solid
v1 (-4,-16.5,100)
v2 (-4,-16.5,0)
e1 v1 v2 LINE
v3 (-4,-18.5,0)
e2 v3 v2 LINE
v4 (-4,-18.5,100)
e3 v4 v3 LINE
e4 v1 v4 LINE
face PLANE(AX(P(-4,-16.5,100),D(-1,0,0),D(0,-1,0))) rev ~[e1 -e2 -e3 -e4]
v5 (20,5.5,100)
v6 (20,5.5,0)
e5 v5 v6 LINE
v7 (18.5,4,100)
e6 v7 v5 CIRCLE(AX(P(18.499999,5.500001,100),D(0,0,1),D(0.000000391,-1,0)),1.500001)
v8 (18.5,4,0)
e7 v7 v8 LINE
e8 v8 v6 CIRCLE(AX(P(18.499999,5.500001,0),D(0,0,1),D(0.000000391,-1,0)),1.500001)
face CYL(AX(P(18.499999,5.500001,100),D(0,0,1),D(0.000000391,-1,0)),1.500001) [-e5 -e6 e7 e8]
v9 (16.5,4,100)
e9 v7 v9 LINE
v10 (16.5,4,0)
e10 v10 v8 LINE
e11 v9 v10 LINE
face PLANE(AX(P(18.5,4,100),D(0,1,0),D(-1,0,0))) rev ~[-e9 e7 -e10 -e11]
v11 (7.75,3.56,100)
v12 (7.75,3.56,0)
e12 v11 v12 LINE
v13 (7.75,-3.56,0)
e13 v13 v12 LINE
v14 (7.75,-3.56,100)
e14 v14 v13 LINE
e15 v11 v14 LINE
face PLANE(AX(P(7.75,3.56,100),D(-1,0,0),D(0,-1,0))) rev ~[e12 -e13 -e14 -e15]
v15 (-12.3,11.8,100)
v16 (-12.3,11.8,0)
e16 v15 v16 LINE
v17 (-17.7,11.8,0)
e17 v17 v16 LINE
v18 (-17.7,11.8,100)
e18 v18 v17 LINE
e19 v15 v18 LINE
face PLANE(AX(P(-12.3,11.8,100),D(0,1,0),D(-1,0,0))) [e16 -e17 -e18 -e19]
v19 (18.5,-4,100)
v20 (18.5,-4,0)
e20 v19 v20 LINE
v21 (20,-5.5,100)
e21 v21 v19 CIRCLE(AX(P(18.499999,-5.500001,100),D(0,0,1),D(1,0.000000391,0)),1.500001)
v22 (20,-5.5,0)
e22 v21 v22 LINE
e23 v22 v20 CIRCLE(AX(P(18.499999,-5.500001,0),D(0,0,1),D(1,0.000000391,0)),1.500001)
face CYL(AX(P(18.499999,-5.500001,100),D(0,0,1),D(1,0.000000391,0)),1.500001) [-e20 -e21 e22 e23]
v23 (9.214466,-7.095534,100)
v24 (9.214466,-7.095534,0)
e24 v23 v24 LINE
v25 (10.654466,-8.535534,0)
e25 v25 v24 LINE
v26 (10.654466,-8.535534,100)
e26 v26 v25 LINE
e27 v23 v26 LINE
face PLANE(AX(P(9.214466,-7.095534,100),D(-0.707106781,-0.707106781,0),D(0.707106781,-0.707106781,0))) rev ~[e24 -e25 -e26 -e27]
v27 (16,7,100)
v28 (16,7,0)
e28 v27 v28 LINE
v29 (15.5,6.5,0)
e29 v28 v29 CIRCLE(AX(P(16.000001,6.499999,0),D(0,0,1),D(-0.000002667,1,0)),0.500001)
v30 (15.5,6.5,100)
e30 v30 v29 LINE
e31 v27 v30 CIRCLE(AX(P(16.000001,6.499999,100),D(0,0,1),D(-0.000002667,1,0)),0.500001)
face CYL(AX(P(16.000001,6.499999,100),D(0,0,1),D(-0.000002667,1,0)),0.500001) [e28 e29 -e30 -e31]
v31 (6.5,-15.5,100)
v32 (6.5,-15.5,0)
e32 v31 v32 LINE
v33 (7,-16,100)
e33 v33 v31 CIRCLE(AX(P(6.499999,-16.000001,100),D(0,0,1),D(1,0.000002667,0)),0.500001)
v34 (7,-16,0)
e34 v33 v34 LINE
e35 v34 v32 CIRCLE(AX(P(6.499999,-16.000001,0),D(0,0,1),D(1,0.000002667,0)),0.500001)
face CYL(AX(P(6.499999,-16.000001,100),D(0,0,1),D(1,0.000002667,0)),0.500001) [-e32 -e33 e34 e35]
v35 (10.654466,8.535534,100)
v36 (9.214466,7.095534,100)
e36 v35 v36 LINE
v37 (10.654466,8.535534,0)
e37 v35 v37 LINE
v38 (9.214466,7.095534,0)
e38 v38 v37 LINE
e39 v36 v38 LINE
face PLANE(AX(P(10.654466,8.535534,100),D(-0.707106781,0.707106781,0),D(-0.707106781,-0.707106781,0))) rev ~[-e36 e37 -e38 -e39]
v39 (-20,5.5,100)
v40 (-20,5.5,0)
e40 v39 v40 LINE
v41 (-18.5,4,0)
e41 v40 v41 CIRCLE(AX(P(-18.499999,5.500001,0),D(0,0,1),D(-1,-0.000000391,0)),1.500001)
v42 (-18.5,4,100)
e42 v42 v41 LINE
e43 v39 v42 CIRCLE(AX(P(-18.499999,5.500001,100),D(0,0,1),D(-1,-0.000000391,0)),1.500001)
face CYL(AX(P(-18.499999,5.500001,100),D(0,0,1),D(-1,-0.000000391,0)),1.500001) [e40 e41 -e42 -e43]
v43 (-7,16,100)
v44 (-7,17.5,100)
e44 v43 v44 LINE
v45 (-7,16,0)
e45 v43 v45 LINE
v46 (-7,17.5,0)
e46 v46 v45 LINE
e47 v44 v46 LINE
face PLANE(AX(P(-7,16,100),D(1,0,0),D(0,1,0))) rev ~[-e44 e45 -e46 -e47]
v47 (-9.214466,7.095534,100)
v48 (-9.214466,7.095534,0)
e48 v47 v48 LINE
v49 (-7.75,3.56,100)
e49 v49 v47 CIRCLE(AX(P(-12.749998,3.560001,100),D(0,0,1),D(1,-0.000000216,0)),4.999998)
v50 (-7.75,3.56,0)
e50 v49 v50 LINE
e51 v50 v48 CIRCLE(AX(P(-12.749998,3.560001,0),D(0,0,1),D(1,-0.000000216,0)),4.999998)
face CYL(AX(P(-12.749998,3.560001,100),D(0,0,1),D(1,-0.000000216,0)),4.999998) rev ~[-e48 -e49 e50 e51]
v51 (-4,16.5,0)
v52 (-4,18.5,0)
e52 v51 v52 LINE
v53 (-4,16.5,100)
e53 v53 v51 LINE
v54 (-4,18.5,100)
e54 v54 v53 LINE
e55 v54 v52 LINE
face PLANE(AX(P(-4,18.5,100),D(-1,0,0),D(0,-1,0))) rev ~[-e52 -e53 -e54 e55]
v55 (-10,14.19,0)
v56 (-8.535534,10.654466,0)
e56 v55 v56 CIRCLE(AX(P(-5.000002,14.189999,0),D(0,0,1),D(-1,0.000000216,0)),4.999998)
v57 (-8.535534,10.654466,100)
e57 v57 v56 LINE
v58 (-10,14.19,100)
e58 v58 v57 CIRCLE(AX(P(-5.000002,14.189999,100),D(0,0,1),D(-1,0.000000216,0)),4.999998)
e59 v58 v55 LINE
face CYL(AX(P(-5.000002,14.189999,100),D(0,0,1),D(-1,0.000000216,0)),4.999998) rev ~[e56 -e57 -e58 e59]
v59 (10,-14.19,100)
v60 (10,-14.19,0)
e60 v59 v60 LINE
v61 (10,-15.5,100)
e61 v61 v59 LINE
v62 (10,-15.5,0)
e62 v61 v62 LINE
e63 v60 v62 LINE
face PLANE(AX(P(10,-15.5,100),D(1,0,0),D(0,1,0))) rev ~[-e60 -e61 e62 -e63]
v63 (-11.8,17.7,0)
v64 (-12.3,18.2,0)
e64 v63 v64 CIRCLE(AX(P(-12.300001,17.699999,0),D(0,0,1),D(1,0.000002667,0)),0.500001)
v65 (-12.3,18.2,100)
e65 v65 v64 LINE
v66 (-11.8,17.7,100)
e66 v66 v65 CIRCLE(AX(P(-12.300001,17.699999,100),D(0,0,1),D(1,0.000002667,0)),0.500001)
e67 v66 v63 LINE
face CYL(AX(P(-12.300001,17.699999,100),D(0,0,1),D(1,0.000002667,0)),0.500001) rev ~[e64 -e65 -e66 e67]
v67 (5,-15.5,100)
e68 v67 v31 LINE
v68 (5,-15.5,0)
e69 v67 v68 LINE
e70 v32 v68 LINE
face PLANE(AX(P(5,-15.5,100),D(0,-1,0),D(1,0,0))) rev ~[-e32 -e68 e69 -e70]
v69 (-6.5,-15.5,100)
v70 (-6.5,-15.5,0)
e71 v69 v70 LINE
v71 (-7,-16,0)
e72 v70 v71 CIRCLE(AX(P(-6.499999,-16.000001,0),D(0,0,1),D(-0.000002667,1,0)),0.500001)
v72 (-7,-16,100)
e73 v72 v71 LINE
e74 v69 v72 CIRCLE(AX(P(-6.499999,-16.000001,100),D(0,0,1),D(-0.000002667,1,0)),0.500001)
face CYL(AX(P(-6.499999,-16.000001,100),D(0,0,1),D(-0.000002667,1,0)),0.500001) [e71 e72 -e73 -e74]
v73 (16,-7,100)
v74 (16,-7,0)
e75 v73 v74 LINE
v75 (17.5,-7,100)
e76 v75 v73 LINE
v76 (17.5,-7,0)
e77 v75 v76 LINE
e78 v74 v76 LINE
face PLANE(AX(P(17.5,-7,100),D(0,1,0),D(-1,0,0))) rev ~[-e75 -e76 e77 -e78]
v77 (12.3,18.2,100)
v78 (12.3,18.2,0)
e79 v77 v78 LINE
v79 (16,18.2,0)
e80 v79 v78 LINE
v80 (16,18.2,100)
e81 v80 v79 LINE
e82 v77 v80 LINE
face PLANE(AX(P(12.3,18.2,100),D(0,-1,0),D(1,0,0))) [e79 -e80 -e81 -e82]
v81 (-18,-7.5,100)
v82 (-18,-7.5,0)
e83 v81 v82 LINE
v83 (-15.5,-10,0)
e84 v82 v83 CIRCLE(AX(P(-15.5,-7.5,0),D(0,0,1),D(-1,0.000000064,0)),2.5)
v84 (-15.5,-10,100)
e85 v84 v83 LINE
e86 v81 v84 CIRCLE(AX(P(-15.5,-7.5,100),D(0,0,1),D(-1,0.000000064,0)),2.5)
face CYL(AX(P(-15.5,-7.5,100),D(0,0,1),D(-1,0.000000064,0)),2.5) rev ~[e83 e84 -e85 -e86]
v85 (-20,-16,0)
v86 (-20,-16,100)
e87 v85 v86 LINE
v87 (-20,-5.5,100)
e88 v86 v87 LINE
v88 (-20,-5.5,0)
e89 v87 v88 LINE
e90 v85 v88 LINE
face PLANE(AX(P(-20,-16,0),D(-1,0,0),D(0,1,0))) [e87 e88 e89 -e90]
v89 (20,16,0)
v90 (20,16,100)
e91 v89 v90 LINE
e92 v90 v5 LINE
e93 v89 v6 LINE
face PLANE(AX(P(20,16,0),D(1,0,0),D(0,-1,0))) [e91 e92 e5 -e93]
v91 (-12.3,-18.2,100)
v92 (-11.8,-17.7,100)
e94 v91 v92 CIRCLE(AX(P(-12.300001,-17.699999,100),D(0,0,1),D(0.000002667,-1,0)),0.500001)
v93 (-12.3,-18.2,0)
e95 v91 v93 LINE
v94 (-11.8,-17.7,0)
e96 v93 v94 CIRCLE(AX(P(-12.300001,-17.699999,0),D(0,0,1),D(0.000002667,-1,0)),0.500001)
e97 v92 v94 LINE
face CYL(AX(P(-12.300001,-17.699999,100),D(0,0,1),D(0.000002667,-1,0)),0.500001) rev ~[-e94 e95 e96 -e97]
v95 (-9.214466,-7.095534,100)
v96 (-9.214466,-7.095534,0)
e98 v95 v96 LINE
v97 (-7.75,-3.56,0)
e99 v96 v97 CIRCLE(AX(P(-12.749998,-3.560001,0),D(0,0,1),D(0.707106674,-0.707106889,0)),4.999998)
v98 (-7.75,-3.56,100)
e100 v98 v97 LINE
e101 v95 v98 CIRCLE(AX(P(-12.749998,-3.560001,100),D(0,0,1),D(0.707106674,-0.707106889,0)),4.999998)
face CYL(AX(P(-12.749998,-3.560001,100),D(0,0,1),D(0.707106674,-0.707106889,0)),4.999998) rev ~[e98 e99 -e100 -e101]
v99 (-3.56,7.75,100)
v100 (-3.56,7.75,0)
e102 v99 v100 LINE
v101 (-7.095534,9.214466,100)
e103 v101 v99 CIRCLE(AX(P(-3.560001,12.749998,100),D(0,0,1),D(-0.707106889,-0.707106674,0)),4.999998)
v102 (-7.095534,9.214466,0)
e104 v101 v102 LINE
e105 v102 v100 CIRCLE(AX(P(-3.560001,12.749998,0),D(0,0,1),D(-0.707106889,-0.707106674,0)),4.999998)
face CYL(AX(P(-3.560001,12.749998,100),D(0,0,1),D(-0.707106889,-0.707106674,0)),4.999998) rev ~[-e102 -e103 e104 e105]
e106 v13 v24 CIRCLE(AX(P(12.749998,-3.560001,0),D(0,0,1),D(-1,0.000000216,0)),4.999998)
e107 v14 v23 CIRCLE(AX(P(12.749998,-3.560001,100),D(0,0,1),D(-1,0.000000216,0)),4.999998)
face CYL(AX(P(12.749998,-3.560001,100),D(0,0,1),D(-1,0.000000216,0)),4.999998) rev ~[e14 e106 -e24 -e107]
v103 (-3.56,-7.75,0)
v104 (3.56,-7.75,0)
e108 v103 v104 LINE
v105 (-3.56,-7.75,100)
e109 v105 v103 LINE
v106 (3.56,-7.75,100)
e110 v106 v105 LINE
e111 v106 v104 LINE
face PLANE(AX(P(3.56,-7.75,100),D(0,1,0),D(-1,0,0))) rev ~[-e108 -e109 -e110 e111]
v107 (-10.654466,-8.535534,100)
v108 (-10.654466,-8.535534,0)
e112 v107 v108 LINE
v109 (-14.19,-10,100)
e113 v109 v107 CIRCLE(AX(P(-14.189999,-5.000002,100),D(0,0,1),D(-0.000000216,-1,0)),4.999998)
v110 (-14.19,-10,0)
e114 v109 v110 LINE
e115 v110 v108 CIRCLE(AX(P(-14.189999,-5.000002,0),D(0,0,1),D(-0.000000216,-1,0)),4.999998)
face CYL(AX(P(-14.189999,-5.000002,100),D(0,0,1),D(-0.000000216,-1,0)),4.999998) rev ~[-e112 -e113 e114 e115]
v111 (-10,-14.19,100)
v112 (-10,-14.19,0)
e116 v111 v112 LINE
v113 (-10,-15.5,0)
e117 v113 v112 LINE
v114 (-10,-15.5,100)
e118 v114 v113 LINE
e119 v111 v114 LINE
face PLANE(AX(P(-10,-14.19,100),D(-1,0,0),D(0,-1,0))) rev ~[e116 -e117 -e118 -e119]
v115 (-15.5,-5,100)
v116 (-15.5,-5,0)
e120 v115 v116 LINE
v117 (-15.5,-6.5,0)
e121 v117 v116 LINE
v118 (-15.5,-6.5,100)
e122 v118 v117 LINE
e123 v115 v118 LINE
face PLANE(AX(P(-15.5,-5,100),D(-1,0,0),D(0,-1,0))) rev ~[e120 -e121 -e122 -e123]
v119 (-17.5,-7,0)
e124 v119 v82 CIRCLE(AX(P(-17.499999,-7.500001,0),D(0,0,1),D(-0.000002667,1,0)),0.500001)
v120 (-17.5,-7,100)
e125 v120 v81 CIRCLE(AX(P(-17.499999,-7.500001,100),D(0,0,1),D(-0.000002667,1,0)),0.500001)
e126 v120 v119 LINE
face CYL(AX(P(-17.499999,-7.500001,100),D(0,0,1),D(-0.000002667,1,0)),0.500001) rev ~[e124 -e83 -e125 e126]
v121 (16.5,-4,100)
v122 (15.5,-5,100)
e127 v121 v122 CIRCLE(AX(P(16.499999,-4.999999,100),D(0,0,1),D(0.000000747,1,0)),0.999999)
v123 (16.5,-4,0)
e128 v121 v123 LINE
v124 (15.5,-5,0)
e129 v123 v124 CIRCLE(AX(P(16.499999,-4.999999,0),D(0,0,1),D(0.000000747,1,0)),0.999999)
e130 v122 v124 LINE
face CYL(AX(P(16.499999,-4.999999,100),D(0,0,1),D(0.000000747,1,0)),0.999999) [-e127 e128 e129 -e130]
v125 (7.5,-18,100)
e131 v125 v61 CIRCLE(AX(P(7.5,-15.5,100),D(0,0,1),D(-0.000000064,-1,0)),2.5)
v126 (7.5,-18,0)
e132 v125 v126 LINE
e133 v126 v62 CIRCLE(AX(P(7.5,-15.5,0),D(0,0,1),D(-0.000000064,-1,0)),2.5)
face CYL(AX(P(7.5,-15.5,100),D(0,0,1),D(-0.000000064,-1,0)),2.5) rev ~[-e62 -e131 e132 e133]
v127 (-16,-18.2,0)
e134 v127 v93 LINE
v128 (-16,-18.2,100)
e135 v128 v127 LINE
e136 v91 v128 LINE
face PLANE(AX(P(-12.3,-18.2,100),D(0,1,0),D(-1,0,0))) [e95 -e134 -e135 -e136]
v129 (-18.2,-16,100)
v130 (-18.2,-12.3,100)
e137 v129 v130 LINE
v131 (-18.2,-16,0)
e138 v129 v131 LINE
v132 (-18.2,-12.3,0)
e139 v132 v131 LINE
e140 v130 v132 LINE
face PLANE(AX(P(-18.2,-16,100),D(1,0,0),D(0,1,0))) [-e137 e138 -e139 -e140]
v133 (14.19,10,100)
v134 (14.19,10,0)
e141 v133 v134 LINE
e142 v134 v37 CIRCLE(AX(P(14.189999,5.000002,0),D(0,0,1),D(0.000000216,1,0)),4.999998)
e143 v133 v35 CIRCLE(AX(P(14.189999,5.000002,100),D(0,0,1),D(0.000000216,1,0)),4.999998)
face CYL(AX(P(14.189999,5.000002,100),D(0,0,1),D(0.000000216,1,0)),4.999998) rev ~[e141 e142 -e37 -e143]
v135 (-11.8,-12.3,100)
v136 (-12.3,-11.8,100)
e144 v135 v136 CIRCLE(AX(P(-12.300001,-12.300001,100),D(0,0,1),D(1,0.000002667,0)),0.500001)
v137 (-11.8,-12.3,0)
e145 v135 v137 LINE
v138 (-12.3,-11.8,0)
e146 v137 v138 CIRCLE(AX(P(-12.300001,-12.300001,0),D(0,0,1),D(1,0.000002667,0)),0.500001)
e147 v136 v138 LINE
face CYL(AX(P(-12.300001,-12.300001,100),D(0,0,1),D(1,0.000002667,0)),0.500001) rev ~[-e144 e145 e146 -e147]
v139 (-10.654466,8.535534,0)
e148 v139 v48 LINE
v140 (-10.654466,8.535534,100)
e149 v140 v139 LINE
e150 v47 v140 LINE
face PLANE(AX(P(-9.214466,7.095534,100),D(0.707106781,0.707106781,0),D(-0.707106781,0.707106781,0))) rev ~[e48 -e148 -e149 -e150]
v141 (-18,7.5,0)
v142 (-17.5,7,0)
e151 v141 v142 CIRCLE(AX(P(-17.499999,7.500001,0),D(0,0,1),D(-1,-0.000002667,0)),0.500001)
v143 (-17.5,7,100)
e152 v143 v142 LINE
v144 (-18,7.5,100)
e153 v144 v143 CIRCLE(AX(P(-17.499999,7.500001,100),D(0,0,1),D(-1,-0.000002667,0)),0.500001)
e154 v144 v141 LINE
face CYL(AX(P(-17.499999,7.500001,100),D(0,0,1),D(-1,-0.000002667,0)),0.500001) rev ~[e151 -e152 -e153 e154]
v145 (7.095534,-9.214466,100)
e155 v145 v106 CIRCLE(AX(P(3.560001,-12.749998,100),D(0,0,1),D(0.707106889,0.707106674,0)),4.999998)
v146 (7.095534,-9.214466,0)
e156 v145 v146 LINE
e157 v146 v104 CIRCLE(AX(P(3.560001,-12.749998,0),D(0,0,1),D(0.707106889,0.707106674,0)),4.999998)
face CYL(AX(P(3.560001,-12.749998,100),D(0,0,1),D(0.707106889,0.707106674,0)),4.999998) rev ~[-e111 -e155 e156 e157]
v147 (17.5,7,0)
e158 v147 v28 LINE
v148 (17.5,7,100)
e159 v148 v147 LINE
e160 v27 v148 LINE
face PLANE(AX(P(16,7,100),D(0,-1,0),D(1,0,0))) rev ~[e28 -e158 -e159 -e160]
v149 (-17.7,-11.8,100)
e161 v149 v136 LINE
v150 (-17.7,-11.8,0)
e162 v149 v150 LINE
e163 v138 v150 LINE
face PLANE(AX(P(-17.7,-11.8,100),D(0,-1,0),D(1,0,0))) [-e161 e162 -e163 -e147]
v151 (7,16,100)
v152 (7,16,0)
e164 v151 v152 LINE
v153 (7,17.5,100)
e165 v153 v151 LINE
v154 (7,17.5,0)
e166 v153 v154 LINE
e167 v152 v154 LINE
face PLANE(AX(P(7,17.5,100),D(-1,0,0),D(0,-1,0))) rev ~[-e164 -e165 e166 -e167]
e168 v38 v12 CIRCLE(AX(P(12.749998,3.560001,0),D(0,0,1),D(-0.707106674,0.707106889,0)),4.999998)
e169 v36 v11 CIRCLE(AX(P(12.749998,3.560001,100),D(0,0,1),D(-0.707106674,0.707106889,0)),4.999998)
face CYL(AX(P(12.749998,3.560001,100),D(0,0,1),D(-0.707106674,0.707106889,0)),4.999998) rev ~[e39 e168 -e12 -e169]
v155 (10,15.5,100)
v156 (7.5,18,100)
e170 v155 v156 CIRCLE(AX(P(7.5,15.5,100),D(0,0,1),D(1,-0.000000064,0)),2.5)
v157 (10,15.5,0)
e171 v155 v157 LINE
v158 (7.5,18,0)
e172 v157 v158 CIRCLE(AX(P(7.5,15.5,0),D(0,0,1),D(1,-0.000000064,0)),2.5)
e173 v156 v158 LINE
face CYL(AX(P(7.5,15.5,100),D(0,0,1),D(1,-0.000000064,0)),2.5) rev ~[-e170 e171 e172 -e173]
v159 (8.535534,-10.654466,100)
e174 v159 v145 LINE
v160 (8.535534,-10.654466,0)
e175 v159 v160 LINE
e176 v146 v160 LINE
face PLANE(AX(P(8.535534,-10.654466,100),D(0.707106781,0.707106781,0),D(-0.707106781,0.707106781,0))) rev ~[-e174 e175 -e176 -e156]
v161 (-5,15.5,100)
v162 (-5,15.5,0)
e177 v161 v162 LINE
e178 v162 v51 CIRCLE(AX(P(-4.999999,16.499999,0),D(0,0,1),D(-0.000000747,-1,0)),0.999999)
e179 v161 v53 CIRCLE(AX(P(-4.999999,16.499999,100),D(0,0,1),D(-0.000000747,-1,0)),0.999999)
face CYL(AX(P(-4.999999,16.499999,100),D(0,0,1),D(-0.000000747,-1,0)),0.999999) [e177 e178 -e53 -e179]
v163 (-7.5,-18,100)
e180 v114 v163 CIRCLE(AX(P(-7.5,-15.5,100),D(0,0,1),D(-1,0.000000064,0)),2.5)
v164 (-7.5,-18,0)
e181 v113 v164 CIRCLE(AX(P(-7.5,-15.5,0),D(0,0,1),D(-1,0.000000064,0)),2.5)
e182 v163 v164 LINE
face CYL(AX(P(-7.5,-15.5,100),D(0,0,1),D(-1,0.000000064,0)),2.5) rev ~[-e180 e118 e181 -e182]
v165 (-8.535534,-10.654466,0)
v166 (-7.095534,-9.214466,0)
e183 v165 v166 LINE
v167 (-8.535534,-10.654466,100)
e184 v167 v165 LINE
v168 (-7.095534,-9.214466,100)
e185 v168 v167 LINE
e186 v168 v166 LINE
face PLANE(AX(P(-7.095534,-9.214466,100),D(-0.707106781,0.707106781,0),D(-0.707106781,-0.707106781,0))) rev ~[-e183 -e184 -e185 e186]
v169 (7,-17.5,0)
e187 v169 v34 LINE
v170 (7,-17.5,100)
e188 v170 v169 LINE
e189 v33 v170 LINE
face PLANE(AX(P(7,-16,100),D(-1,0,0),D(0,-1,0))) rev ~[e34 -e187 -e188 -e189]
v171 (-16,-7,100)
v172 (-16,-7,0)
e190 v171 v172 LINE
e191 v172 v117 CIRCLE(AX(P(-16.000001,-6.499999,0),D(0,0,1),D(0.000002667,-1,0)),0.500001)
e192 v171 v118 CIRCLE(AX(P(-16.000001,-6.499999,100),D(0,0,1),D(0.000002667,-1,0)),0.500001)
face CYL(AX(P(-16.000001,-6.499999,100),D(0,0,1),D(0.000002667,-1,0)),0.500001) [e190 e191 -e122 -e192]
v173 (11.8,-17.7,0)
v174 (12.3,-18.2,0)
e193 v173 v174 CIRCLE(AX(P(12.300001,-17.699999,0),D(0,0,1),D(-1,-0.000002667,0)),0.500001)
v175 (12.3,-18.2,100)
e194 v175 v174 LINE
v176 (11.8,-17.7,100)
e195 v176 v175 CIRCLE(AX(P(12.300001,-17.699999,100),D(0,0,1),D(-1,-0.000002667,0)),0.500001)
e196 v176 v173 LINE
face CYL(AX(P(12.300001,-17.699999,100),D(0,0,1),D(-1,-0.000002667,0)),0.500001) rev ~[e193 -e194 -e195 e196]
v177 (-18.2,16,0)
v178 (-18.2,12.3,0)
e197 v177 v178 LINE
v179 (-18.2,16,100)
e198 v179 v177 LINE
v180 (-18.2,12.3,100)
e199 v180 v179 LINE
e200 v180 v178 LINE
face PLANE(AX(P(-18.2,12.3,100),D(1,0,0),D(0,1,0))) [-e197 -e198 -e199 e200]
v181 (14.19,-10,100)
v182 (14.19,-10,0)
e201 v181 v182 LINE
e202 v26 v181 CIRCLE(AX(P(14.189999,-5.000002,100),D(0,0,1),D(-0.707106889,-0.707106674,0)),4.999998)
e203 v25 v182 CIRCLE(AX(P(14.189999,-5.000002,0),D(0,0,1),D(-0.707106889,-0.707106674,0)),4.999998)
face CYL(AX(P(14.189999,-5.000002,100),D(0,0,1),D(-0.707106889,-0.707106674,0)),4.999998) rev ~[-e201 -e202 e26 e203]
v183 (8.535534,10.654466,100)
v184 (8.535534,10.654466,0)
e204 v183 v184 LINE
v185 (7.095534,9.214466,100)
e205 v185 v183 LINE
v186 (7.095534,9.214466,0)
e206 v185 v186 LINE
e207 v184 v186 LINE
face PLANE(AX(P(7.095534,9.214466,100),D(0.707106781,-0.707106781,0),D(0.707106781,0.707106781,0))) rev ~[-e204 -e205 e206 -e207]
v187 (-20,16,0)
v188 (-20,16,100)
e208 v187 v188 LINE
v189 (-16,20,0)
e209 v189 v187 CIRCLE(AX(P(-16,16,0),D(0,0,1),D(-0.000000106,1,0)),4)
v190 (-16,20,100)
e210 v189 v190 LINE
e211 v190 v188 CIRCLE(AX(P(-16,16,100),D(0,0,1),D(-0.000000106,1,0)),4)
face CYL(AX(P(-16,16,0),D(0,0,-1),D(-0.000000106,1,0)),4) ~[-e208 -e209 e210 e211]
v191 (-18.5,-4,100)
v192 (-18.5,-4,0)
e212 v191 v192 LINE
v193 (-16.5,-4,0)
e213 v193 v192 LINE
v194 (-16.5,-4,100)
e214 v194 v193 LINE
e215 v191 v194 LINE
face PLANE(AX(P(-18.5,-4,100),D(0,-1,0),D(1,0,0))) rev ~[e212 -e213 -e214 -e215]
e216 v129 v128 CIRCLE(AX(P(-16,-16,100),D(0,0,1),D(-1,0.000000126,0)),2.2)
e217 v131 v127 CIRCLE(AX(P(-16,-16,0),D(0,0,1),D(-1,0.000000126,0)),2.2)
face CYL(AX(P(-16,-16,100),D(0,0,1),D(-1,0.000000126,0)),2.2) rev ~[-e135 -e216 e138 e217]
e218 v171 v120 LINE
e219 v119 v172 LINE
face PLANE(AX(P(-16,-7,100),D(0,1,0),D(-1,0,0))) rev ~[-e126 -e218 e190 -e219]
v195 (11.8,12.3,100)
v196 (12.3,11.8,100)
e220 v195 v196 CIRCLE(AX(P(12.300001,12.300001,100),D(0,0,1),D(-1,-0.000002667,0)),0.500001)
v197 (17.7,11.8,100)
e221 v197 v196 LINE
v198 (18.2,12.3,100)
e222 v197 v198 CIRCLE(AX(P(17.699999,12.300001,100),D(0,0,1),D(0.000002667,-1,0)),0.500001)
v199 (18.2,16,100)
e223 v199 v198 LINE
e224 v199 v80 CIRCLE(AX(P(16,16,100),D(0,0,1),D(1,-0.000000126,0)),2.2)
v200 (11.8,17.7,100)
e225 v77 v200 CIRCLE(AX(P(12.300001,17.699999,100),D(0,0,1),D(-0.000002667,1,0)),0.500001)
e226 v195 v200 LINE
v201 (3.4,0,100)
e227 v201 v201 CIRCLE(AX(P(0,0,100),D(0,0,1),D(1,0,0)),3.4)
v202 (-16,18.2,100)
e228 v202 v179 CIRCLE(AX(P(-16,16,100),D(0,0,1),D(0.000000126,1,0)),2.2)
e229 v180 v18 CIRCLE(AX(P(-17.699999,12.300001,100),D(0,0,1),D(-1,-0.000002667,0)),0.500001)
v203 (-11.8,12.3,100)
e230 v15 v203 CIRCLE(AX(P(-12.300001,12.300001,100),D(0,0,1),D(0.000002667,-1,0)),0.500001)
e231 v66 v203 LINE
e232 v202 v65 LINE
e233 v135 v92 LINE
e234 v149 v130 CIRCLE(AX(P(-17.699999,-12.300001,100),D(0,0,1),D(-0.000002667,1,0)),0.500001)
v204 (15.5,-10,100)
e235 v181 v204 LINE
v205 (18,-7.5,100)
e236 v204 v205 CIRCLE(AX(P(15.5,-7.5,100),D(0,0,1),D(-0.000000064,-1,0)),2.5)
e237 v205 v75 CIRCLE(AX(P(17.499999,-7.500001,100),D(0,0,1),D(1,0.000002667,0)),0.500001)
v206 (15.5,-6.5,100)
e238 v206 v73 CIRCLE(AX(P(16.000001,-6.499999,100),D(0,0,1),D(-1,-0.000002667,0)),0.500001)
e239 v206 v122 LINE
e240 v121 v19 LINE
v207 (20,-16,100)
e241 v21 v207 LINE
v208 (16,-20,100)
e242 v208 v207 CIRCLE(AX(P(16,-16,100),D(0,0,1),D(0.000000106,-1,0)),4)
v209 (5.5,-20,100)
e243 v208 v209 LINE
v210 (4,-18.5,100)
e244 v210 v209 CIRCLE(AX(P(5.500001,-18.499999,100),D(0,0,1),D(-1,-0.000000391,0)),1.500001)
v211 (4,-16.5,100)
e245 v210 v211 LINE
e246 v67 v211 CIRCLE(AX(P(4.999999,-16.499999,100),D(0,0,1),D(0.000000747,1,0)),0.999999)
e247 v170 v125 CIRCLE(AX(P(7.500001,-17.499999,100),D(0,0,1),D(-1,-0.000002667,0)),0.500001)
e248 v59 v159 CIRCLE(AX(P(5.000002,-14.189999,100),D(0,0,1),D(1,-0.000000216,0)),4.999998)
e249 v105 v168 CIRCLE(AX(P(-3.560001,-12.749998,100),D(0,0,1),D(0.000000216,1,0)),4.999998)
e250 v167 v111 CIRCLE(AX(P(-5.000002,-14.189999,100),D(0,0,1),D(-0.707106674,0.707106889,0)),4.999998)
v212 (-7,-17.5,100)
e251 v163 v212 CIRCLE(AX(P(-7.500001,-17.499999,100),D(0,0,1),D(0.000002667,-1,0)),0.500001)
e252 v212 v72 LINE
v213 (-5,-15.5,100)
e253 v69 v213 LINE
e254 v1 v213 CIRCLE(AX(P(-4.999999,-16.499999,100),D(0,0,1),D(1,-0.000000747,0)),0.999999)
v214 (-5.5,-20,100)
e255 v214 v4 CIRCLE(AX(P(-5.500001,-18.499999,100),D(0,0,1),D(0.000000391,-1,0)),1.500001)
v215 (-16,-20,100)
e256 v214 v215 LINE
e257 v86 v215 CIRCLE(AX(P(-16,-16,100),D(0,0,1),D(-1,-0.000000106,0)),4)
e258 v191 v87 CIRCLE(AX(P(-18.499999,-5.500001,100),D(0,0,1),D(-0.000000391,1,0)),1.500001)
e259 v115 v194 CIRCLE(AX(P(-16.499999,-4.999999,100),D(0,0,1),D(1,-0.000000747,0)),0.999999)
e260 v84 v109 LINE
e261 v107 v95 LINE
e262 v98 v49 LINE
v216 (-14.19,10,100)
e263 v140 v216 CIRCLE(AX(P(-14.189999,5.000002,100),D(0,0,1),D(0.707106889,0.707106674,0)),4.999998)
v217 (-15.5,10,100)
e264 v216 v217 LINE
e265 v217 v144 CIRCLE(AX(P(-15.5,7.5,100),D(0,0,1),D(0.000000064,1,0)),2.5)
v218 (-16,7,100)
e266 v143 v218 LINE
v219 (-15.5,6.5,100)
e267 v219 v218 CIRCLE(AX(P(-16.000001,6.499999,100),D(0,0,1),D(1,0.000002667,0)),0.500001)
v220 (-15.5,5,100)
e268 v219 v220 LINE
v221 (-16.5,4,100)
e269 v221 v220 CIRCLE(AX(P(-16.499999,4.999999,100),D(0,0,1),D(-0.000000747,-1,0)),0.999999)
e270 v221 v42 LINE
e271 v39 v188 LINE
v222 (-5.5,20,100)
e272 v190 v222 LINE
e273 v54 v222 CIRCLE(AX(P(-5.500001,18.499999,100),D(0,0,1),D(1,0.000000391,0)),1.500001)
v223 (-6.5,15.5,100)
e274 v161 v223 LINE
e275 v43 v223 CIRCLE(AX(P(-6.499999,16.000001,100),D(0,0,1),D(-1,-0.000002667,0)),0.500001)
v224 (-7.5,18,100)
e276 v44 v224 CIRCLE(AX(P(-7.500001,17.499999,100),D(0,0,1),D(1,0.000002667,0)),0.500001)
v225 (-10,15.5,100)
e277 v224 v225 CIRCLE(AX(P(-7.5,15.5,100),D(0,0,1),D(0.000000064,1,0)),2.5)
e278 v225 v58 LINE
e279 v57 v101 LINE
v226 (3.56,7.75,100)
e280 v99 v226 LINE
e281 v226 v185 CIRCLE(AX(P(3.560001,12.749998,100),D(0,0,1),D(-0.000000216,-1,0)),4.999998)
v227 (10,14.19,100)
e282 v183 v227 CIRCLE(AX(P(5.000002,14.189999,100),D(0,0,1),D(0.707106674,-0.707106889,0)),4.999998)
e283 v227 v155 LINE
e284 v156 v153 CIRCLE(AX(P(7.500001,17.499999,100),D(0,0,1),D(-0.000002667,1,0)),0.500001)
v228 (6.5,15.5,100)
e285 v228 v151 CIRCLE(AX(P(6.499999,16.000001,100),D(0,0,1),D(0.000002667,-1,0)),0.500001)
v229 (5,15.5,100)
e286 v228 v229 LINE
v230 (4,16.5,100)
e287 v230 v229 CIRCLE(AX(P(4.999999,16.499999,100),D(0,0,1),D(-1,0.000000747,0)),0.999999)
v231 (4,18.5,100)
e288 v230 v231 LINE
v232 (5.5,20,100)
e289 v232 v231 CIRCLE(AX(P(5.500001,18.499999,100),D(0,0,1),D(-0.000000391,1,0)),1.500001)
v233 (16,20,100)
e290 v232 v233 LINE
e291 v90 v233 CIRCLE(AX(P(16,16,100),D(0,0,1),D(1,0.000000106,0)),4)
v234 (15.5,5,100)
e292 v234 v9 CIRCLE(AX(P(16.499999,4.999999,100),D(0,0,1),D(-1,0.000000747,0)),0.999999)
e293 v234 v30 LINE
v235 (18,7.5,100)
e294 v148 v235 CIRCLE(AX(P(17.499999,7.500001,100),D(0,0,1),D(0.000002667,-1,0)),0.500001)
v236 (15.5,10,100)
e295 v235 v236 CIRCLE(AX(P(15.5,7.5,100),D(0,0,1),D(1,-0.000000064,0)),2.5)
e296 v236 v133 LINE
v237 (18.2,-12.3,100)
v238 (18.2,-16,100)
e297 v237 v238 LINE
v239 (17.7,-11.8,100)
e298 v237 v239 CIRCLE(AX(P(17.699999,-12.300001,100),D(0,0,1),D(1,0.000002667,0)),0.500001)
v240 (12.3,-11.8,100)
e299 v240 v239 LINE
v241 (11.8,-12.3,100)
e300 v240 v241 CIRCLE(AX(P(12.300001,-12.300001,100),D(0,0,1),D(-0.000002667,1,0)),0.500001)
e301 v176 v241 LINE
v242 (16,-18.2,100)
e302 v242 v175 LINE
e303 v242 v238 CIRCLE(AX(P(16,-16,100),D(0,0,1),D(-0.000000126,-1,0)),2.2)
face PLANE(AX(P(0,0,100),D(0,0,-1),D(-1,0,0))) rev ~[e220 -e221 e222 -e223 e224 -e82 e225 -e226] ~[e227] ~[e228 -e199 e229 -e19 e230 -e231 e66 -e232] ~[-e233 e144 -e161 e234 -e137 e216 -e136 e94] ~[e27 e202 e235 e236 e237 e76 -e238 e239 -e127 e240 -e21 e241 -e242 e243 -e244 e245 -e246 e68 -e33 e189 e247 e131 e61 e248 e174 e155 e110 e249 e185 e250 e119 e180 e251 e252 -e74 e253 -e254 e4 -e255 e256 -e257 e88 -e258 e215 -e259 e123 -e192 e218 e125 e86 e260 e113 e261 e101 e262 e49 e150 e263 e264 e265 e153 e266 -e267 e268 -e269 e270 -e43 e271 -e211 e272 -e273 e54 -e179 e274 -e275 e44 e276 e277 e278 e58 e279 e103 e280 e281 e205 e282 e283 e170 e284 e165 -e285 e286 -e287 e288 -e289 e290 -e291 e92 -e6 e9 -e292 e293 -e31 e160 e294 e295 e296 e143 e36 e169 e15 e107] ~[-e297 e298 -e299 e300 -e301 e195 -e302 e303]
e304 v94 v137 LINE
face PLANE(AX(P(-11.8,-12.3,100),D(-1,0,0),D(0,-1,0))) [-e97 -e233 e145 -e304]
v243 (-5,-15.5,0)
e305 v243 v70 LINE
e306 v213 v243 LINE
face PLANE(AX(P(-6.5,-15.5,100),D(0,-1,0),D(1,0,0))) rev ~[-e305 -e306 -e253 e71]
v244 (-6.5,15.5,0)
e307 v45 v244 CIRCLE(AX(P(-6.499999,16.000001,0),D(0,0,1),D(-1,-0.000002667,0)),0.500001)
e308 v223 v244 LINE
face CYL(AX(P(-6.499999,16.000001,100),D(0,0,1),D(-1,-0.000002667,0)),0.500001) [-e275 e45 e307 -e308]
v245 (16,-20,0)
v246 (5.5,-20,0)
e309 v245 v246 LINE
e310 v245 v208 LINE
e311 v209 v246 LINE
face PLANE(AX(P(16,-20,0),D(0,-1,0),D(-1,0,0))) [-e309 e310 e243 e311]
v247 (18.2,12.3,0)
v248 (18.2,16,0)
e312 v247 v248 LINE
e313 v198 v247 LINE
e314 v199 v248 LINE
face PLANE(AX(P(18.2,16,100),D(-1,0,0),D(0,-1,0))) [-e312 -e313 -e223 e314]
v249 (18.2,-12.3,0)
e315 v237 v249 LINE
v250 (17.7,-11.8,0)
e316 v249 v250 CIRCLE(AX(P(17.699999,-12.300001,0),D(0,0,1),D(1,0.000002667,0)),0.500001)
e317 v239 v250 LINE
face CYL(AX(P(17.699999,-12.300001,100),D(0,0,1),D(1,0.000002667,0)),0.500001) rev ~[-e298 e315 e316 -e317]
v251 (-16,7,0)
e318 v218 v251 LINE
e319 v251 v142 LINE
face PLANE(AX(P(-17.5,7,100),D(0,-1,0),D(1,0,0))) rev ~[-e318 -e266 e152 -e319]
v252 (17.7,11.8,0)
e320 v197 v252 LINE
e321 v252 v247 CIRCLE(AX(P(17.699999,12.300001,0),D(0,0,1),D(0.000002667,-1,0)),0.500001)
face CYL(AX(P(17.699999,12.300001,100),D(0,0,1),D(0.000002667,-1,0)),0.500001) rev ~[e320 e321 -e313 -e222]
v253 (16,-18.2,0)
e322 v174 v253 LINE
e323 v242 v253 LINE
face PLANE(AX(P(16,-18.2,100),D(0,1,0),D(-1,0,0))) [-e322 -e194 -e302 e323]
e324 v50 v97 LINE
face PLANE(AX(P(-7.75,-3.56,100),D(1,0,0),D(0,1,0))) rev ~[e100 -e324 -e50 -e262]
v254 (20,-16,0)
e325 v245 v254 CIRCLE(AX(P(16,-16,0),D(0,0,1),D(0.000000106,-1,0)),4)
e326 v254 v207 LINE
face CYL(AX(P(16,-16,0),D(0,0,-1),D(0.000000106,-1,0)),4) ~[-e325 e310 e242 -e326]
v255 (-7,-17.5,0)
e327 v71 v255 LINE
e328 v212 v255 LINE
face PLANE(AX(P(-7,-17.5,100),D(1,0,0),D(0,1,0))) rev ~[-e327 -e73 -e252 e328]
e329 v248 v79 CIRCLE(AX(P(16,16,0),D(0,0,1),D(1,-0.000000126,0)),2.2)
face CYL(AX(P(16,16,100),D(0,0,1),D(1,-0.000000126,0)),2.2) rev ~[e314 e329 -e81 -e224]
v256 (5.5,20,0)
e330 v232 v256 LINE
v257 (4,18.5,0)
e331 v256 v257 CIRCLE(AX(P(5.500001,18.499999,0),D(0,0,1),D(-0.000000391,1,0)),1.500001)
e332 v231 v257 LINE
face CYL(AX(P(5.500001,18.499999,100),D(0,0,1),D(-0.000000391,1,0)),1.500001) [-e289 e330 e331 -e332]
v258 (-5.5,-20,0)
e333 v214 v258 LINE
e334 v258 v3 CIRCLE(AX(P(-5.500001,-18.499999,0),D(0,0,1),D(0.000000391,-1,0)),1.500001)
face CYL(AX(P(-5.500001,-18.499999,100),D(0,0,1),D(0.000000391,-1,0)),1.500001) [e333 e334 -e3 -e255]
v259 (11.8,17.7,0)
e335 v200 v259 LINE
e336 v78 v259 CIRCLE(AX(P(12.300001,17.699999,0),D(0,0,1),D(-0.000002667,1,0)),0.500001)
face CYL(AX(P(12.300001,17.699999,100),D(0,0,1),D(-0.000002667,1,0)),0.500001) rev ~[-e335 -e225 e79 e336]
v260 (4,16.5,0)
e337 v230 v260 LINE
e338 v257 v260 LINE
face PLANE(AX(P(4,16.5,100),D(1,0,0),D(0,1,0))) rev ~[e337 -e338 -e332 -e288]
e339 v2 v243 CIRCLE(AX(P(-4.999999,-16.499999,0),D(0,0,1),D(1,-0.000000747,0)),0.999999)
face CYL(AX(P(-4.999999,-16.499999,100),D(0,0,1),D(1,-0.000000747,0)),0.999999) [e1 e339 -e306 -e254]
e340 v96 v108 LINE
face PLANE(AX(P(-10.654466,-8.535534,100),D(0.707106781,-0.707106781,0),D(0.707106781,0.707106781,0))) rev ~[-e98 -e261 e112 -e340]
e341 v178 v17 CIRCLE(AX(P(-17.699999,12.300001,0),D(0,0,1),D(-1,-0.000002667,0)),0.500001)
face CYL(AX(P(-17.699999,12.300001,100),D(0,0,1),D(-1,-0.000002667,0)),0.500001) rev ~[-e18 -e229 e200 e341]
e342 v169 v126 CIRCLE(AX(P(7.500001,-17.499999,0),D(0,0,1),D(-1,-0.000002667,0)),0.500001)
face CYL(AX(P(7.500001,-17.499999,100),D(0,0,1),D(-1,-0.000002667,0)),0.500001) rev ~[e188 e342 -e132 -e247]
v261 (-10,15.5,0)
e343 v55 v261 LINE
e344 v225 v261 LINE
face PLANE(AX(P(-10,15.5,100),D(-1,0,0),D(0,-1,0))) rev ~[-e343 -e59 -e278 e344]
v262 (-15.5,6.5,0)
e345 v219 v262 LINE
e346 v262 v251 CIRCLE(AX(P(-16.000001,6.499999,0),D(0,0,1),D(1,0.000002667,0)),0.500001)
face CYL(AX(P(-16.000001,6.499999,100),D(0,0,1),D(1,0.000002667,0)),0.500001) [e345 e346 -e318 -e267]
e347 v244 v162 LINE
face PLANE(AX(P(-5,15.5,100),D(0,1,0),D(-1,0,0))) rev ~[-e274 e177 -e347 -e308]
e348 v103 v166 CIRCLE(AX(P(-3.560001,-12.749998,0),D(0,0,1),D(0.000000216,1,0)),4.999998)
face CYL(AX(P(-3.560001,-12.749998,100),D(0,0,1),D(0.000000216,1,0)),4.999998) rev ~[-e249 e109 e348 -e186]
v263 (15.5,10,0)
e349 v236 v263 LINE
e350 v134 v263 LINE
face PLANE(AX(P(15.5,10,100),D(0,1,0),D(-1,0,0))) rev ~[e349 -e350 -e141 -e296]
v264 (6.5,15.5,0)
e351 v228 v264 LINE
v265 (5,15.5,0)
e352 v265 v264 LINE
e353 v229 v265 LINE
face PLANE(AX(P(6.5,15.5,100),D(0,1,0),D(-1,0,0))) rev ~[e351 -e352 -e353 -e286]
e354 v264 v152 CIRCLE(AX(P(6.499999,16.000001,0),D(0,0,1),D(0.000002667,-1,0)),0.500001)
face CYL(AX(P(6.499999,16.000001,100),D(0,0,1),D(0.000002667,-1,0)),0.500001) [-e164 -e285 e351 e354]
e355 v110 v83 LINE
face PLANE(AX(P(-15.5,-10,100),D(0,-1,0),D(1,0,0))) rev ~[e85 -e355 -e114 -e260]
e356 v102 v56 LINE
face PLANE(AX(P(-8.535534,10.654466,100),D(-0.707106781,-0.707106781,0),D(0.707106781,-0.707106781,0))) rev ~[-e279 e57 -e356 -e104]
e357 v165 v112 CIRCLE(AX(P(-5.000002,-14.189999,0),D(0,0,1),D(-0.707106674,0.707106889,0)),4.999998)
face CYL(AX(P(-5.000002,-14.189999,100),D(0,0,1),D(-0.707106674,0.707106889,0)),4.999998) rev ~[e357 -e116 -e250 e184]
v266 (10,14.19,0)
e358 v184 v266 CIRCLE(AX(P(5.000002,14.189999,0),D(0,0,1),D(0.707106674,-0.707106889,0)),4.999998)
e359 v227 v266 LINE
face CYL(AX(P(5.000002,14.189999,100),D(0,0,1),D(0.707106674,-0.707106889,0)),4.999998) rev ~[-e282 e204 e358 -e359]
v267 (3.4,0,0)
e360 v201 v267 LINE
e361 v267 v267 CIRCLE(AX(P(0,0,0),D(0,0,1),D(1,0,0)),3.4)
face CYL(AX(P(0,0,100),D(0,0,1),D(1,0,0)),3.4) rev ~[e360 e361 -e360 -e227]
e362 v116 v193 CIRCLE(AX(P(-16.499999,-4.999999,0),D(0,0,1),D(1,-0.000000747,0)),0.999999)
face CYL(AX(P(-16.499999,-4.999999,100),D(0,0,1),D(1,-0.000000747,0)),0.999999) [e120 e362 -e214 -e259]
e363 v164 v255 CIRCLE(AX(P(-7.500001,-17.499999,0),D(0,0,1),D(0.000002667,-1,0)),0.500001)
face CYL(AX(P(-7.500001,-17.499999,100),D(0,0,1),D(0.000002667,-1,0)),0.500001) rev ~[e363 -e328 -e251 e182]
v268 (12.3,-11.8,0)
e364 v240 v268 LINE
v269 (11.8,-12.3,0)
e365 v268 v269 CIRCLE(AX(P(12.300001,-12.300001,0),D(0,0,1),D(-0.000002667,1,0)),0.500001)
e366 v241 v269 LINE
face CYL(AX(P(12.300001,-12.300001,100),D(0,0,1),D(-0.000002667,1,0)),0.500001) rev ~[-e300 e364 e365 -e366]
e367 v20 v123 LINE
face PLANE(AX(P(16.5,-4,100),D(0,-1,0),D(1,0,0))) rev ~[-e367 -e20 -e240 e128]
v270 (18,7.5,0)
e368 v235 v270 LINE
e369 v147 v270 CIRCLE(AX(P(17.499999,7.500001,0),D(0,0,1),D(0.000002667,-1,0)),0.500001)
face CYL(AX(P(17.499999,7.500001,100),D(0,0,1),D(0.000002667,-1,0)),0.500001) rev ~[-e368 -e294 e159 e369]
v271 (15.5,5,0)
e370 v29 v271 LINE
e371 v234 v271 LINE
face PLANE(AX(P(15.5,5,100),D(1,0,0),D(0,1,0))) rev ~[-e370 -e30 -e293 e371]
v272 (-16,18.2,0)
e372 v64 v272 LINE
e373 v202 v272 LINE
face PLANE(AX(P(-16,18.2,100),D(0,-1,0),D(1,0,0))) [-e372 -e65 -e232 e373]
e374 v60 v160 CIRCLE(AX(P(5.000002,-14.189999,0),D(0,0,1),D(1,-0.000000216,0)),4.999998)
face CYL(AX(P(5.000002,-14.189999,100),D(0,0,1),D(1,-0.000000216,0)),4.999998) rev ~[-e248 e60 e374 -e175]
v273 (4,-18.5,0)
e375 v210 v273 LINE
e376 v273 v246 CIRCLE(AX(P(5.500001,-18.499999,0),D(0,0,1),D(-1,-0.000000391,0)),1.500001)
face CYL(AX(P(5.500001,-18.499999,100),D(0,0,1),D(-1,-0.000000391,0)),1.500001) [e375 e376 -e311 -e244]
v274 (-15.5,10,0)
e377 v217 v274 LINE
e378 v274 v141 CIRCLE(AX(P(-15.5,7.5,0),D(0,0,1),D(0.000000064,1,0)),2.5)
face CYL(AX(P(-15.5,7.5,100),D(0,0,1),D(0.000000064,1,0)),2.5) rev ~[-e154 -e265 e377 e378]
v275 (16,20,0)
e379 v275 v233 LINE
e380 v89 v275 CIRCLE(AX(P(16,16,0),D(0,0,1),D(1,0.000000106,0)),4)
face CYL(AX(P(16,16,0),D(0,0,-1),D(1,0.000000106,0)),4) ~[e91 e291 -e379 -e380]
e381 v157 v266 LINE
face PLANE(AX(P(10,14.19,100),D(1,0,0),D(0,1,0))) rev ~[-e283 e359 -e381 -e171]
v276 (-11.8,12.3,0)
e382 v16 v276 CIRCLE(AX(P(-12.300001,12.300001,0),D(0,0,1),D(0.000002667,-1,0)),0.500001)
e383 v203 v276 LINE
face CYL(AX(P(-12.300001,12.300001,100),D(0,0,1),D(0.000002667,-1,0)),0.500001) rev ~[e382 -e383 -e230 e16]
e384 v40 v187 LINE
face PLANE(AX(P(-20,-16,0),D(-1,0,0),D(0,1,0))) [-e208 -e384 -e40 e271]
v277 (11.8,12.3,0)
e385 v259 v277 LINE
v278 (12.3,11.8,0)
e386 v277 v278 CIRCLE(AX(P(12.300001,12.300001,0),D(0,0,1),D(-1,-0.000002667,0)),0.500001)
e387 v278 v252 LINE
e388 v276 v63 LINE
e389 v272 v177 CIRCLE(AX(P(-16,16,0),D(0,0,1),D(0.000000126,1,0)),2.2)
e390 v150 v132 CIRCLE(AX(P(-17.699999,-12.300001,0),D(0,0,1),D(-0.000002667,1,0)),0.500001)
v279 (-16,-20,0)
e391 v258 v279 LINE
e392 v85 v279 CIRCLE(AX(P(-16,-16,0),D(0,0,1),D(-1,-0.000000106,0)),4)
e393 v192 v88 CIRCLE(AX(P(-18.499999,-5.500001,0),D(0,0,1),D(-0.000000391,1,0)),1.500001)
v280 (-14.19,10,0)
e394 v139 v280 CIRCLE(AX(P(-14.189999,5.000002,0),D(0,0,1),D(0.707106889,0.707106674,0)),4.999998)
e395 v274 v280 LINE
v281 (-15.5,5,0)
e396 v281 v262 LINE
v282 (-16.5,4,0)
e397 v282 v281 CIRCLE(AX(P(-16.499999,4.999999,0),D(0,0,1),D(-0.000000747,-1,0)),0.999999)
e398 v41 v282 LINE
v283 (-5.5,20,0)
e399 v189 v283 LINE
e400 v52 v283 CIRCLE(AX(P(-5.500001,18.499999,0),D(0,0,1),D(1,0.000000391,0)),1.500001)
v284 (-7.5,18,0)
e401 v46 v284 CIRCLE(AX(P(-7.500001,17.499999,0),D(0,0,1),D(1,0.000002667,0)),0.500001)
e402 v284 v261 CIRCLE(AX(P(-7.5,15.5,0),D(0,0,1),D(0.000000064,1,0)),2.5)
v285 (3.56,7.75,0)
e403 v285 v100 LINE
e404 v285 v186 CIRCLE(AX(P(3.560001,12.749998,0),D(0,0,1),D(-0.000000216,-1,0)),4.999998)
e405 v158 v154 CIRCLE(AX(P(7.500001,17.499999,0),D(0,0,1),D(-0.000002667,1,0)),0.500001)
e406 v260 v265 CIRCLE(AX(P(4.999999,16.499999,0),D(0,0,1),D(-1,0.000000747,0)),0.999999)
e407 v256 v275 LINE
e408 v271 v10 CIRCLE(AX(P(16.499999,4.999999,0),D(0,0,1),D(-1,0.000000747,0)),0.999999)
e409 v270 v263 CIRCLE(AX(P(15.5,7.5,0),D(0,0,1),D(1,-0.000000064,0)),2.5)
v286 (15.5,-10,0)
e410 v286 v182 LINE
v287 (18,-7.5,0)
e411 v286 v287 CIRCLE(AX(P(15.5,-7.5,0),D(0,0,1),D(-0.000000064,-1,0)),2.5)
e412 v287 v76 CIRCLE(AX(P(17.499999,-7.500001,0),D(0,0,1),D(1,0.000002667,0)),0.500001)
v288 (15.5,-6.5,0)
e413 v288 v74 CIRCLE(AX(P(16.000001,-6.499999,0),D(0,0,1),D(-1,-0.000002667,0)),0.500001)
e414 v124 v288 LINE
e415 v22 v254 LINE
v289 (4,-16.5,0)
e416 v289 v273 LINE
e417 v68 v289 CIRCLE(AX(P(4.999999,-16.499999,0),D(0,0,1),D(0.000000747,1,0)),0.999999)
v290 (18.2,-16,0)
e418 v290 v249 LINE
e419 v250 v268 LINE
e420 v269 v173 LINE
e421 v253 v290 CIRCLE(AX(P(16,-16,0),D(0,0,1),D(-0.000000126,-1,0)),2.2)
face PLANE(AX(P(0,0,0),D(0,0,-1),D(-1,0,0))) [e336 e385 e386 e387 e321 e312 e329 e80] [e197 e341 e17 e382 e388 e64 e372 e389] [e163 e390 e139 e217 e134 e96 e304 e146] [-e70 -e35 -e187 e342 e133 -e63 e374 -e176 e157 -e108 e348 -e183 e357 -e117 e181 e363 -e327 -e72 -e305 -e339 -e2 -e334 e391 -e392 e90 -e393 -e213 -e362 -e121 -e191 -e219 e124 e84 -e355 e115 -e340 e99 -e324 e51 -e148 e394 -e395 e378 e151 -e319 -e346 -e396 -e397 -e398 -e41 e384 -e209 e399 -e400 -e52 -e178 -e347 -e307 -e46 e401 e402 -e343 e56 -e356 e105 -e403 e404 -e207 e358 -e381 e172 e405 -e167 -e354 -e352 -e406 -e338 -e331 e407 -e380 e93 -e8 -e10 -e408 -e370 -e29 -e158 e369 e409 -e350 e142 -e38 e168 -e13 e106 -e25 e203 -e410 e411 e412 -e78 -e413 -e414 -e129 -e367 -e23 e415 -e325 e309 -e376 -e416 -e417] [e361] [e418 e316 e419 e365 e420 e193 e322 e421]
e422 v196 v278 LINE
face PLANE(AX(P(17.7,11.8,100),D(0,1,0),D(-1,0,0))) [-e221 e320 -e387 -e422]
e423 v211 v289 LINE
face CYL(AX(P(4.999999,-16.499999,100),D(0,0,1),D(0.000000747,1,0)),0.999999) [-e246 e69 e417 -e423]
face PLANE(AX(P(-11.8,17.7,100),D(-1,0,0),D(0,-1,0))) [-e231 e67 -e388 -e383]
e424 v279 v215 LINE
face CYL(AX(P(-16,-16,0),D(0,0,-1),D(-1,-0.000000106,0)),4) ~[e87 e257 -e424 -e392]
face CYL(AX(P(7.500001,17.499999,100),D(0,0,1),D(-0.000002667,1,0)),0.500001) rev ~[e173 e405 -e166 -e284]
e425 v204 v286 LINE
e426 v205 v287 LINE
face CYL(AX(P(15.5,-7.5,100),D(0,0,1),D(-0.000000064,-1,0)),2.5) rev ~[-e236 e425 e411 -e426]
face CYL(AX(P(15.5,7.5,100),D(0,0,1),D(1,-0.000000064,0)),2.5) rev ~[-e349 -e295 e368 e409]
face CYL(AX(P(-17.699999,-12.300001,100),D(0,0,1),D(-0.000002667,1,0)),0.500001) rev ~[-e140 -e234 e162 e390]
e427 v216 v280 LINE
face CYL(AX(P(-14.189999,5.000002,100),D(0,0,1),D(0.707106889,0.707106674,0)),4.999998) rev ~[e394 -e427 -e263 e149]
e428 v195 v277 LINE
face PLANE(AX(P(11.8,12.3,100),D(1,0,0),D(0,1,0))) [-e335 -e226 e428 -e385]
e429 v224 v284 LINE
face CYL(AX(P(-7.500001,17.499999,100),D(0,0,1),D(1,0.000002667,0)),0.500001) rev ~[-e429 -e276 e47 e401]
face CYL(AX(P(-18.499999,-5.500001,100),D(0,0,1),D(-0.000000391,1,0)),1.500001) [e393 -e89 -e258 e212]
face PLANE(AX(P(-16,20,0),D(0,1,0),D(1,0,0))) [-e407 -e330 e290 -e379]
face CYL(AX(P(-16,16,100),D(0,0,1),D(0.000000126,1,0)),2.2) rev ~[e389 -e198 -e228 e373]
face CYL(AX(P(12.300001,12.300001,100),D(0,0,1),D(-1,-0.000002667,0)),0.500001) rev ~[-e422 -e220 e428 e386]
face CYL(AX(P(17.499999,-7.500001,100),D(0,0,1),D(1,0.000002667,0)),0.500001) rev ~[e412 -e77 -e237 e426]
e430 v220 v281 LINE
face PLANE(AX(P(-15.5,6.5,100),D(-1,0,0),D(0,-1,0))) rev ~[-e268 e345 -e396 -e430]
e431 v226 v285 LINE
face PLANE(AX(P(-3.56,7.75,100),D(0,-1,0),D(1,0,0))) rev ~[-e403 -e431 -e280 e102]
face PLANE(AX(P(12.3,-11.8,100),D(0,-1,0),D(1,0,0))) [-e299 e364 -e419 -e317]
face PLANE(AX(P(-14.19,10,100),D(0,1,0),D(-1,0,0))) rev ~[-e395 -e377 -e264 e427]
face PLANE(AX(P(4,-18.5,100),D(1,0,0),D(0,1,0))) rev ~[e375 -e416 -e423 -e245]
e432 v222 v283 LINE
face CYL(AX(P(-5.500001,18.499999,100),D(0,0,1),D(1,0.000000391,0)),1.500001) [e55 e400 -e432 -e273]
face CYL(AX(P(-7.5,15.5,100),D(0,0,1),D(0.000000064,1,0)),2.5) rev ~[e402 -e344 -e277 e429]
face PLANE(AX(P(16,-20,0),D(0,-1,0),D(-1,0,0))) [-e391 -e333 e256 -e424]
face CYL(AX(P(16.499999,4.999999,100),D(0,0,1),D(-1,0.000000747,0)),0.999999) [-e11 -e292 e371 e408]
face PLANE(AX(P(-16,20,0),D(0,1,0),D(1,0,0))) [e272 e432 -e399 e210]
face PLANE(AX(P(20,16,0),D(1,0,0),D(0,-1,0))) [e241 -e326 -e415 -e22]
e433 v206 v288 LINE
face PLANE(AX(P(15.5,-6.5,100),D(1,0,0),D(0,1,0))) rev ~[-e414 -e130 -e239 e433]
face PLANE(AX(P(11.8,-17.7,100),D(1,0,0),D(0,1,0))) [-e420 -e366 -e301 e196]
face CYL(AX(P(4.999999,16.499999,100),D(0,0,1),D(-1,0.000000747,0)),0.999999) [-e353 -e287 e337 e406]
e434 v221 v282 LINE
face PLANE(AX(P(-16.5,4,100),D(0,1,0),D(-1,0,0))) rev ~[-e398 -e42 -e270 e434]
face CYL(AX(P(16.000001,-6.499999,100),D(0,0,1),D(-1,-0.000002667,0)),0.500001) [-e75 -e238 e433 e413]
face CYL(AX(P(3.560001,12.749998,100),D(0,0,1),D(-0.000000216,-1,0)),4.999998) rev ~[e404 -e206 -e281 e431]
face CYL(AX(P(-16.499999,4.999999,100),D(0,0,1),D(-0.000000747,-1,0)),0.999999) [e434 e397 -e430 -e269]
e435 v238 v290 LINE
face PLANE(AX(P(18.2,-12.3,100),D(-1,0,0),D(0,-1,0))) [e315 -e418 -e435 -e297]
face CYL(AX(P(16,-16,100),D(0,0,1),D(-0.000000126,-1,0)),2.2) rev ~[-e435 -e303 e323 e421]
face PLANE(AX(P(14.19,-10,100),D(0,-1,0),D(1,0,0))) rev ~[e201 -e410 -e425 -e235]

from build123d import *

# Parameters (mm, degrees)
PAD_DEPTH          = 100
POCKET_DEPTH       = 329.783506
POLARPATTERN_COUNT = 4
SKETCH002_R        = 3.4
POCKET001_DEPTH    = 100.001


with BuildPart() as part:
    # Sketch → Pad (new body)
    with BuildSketch(Plane.XY):
        with BuildLine():
            Line((-16, 20), (16, 20))
            ThreePointArc((20, 16), (18.828427, 18.828427), (16, 20))
            Line((20, 16), (20, -16))
            ThreePointArc((16, -20), (18.828427, -18.828427), (20, -16))
            Line((16, -20), (-16, -20))
            ThreePointArc((-20, -16), (-18.828427, -18.828427), (-16, -20))
            Line((-20, -16), (-20, 16))
            ThreePointArc((-16, 20), (-18.828427, 18.828427), (-20, 16))
        make_face()
    extrude(amount=PAD_DEPTH)

    # Sketch001 (on Face10 of Pad) → Pocket (cut, through all)
    with BuildSketch(Plane.XY.offset(100)):
        with BuildLine():
            Line((-16, 18.2), (-12.3, 18.2))
            ThreePointArc((-11.8, 17.7), (-11.946447, 18.053553), (-12.3, 18.2))
            Line((-11.8, 17.7), (-11.8, 12.3))
            ThreePointArc((-12.3, 11.8), (-11.946447, 11.946447), (-11.8, 12.3))
            Line((-12.3, 11.8), (-17.7, 11.8))
            ThreePointArc((-18.2, 12.3), (-18.053553, 11.946447), (-17.7, 11.8))
            Line((-18.2, 12.3), (-18.2, 16))
            ThreePointArc((-16, 18.2), (-17.555635, 17.555635), (-18.2, 16))
        make_face()
        with BuildLine():
            ThreePointArc((-4, 18.5), (-4.43934, 19.56066), (-5.5, 20))
            Line((5.5, 20), (-5.5, 20))
            ThreePointArc((5.5, 20), (4.43934, 19.56066), (4, 18.5))
            Line((4, 16.5), (4, 18.5))
            ThreePointArc((4, 16.5), (4.292893, 15.792893), (5, 15.5))
            Line((6.5, 15.5), (5, 15.5))
            ThreePointArc((6.5, 15.5), (6.853553, 15.646447), (7, 16))
            Line((7, 17.5), (7, 16))
            ThreePointArc((7.5, 18), (7.146447, 17.853553), (7, 17.5))
            ThreePointArc((10, 15.5), (9.267767, 17.267767), (7.5, 18))
            Line((10, 14.19), (10, 15.5))
            ThreePointArc((8.535534, 10.654466), (9.619398, 12.276583), (10, 14.19))
            Line((7.095534, 9.214466), (8.535534, 10.654466))
            ThreePointArc((3.56, 7.75), (5.473417, 8.130602), (7.095534, 9.214466))
            Line((-3.56, 7.75), (3.56, 7.75))
            ThreePointArc((-7.095534, 9.214466), (-5.473417, 8.130602), (-3.56, 7.75))
            Line((-8.535534, 10.654466), (-7.095534, 9.214466))
            ThreePointArc((-10, 14.19), (-9.619398, 12.276583), (-8.535534, 10.654466))
            Line((-10, 15.5), (-10, 14.19))
            ThreePointArc((-7.5, 18), (-9.267767, 17.267767), (-10, 15.5))
            ThreePointArc((-7, 17.5), (-7.146447, 17.853553), (-7.5, 18))
            Line((-7, 16), (-7, 17.5))
            ThreePointArc((-7, 16), (-6.853553, 15.646447), (-6.5, 15.5))
            Line((-5, 15.5), (-6.5, 15.5))
            ThreePointArc((-5, 15.5), (-4.292893, 15.792893), (-4, 16.5))
            Line((-4, 18.5), (-4, 16.5))
        make_face()
    pocket = extrude(amount=-POCKET_DEPTH, mode=Mode.SUBTRACT)

    # PolarPattern: Pocket ×4 about axis
    polarpattern_axis = Axis((0, 0, 100), (0, 0, 1))
    for i in range(1, POLARPATTERN_COUNT):
        add(pocket.rotate(polarpattern_axis, i * 360 / POLARPATTERN_COUNT), mode=Mode.SUBTRACT)

    # Sketch002 (on Face4 of PolarPattern) → Pocket001 (cut, through all)
    with BuildSketch(Plane.XY.offset(100)):
        Circle(SKETCH002_R)
    extrude(amount=-POCKET001_DEPTH, mode=Mode.SUBTRACT)


solid = part.part
